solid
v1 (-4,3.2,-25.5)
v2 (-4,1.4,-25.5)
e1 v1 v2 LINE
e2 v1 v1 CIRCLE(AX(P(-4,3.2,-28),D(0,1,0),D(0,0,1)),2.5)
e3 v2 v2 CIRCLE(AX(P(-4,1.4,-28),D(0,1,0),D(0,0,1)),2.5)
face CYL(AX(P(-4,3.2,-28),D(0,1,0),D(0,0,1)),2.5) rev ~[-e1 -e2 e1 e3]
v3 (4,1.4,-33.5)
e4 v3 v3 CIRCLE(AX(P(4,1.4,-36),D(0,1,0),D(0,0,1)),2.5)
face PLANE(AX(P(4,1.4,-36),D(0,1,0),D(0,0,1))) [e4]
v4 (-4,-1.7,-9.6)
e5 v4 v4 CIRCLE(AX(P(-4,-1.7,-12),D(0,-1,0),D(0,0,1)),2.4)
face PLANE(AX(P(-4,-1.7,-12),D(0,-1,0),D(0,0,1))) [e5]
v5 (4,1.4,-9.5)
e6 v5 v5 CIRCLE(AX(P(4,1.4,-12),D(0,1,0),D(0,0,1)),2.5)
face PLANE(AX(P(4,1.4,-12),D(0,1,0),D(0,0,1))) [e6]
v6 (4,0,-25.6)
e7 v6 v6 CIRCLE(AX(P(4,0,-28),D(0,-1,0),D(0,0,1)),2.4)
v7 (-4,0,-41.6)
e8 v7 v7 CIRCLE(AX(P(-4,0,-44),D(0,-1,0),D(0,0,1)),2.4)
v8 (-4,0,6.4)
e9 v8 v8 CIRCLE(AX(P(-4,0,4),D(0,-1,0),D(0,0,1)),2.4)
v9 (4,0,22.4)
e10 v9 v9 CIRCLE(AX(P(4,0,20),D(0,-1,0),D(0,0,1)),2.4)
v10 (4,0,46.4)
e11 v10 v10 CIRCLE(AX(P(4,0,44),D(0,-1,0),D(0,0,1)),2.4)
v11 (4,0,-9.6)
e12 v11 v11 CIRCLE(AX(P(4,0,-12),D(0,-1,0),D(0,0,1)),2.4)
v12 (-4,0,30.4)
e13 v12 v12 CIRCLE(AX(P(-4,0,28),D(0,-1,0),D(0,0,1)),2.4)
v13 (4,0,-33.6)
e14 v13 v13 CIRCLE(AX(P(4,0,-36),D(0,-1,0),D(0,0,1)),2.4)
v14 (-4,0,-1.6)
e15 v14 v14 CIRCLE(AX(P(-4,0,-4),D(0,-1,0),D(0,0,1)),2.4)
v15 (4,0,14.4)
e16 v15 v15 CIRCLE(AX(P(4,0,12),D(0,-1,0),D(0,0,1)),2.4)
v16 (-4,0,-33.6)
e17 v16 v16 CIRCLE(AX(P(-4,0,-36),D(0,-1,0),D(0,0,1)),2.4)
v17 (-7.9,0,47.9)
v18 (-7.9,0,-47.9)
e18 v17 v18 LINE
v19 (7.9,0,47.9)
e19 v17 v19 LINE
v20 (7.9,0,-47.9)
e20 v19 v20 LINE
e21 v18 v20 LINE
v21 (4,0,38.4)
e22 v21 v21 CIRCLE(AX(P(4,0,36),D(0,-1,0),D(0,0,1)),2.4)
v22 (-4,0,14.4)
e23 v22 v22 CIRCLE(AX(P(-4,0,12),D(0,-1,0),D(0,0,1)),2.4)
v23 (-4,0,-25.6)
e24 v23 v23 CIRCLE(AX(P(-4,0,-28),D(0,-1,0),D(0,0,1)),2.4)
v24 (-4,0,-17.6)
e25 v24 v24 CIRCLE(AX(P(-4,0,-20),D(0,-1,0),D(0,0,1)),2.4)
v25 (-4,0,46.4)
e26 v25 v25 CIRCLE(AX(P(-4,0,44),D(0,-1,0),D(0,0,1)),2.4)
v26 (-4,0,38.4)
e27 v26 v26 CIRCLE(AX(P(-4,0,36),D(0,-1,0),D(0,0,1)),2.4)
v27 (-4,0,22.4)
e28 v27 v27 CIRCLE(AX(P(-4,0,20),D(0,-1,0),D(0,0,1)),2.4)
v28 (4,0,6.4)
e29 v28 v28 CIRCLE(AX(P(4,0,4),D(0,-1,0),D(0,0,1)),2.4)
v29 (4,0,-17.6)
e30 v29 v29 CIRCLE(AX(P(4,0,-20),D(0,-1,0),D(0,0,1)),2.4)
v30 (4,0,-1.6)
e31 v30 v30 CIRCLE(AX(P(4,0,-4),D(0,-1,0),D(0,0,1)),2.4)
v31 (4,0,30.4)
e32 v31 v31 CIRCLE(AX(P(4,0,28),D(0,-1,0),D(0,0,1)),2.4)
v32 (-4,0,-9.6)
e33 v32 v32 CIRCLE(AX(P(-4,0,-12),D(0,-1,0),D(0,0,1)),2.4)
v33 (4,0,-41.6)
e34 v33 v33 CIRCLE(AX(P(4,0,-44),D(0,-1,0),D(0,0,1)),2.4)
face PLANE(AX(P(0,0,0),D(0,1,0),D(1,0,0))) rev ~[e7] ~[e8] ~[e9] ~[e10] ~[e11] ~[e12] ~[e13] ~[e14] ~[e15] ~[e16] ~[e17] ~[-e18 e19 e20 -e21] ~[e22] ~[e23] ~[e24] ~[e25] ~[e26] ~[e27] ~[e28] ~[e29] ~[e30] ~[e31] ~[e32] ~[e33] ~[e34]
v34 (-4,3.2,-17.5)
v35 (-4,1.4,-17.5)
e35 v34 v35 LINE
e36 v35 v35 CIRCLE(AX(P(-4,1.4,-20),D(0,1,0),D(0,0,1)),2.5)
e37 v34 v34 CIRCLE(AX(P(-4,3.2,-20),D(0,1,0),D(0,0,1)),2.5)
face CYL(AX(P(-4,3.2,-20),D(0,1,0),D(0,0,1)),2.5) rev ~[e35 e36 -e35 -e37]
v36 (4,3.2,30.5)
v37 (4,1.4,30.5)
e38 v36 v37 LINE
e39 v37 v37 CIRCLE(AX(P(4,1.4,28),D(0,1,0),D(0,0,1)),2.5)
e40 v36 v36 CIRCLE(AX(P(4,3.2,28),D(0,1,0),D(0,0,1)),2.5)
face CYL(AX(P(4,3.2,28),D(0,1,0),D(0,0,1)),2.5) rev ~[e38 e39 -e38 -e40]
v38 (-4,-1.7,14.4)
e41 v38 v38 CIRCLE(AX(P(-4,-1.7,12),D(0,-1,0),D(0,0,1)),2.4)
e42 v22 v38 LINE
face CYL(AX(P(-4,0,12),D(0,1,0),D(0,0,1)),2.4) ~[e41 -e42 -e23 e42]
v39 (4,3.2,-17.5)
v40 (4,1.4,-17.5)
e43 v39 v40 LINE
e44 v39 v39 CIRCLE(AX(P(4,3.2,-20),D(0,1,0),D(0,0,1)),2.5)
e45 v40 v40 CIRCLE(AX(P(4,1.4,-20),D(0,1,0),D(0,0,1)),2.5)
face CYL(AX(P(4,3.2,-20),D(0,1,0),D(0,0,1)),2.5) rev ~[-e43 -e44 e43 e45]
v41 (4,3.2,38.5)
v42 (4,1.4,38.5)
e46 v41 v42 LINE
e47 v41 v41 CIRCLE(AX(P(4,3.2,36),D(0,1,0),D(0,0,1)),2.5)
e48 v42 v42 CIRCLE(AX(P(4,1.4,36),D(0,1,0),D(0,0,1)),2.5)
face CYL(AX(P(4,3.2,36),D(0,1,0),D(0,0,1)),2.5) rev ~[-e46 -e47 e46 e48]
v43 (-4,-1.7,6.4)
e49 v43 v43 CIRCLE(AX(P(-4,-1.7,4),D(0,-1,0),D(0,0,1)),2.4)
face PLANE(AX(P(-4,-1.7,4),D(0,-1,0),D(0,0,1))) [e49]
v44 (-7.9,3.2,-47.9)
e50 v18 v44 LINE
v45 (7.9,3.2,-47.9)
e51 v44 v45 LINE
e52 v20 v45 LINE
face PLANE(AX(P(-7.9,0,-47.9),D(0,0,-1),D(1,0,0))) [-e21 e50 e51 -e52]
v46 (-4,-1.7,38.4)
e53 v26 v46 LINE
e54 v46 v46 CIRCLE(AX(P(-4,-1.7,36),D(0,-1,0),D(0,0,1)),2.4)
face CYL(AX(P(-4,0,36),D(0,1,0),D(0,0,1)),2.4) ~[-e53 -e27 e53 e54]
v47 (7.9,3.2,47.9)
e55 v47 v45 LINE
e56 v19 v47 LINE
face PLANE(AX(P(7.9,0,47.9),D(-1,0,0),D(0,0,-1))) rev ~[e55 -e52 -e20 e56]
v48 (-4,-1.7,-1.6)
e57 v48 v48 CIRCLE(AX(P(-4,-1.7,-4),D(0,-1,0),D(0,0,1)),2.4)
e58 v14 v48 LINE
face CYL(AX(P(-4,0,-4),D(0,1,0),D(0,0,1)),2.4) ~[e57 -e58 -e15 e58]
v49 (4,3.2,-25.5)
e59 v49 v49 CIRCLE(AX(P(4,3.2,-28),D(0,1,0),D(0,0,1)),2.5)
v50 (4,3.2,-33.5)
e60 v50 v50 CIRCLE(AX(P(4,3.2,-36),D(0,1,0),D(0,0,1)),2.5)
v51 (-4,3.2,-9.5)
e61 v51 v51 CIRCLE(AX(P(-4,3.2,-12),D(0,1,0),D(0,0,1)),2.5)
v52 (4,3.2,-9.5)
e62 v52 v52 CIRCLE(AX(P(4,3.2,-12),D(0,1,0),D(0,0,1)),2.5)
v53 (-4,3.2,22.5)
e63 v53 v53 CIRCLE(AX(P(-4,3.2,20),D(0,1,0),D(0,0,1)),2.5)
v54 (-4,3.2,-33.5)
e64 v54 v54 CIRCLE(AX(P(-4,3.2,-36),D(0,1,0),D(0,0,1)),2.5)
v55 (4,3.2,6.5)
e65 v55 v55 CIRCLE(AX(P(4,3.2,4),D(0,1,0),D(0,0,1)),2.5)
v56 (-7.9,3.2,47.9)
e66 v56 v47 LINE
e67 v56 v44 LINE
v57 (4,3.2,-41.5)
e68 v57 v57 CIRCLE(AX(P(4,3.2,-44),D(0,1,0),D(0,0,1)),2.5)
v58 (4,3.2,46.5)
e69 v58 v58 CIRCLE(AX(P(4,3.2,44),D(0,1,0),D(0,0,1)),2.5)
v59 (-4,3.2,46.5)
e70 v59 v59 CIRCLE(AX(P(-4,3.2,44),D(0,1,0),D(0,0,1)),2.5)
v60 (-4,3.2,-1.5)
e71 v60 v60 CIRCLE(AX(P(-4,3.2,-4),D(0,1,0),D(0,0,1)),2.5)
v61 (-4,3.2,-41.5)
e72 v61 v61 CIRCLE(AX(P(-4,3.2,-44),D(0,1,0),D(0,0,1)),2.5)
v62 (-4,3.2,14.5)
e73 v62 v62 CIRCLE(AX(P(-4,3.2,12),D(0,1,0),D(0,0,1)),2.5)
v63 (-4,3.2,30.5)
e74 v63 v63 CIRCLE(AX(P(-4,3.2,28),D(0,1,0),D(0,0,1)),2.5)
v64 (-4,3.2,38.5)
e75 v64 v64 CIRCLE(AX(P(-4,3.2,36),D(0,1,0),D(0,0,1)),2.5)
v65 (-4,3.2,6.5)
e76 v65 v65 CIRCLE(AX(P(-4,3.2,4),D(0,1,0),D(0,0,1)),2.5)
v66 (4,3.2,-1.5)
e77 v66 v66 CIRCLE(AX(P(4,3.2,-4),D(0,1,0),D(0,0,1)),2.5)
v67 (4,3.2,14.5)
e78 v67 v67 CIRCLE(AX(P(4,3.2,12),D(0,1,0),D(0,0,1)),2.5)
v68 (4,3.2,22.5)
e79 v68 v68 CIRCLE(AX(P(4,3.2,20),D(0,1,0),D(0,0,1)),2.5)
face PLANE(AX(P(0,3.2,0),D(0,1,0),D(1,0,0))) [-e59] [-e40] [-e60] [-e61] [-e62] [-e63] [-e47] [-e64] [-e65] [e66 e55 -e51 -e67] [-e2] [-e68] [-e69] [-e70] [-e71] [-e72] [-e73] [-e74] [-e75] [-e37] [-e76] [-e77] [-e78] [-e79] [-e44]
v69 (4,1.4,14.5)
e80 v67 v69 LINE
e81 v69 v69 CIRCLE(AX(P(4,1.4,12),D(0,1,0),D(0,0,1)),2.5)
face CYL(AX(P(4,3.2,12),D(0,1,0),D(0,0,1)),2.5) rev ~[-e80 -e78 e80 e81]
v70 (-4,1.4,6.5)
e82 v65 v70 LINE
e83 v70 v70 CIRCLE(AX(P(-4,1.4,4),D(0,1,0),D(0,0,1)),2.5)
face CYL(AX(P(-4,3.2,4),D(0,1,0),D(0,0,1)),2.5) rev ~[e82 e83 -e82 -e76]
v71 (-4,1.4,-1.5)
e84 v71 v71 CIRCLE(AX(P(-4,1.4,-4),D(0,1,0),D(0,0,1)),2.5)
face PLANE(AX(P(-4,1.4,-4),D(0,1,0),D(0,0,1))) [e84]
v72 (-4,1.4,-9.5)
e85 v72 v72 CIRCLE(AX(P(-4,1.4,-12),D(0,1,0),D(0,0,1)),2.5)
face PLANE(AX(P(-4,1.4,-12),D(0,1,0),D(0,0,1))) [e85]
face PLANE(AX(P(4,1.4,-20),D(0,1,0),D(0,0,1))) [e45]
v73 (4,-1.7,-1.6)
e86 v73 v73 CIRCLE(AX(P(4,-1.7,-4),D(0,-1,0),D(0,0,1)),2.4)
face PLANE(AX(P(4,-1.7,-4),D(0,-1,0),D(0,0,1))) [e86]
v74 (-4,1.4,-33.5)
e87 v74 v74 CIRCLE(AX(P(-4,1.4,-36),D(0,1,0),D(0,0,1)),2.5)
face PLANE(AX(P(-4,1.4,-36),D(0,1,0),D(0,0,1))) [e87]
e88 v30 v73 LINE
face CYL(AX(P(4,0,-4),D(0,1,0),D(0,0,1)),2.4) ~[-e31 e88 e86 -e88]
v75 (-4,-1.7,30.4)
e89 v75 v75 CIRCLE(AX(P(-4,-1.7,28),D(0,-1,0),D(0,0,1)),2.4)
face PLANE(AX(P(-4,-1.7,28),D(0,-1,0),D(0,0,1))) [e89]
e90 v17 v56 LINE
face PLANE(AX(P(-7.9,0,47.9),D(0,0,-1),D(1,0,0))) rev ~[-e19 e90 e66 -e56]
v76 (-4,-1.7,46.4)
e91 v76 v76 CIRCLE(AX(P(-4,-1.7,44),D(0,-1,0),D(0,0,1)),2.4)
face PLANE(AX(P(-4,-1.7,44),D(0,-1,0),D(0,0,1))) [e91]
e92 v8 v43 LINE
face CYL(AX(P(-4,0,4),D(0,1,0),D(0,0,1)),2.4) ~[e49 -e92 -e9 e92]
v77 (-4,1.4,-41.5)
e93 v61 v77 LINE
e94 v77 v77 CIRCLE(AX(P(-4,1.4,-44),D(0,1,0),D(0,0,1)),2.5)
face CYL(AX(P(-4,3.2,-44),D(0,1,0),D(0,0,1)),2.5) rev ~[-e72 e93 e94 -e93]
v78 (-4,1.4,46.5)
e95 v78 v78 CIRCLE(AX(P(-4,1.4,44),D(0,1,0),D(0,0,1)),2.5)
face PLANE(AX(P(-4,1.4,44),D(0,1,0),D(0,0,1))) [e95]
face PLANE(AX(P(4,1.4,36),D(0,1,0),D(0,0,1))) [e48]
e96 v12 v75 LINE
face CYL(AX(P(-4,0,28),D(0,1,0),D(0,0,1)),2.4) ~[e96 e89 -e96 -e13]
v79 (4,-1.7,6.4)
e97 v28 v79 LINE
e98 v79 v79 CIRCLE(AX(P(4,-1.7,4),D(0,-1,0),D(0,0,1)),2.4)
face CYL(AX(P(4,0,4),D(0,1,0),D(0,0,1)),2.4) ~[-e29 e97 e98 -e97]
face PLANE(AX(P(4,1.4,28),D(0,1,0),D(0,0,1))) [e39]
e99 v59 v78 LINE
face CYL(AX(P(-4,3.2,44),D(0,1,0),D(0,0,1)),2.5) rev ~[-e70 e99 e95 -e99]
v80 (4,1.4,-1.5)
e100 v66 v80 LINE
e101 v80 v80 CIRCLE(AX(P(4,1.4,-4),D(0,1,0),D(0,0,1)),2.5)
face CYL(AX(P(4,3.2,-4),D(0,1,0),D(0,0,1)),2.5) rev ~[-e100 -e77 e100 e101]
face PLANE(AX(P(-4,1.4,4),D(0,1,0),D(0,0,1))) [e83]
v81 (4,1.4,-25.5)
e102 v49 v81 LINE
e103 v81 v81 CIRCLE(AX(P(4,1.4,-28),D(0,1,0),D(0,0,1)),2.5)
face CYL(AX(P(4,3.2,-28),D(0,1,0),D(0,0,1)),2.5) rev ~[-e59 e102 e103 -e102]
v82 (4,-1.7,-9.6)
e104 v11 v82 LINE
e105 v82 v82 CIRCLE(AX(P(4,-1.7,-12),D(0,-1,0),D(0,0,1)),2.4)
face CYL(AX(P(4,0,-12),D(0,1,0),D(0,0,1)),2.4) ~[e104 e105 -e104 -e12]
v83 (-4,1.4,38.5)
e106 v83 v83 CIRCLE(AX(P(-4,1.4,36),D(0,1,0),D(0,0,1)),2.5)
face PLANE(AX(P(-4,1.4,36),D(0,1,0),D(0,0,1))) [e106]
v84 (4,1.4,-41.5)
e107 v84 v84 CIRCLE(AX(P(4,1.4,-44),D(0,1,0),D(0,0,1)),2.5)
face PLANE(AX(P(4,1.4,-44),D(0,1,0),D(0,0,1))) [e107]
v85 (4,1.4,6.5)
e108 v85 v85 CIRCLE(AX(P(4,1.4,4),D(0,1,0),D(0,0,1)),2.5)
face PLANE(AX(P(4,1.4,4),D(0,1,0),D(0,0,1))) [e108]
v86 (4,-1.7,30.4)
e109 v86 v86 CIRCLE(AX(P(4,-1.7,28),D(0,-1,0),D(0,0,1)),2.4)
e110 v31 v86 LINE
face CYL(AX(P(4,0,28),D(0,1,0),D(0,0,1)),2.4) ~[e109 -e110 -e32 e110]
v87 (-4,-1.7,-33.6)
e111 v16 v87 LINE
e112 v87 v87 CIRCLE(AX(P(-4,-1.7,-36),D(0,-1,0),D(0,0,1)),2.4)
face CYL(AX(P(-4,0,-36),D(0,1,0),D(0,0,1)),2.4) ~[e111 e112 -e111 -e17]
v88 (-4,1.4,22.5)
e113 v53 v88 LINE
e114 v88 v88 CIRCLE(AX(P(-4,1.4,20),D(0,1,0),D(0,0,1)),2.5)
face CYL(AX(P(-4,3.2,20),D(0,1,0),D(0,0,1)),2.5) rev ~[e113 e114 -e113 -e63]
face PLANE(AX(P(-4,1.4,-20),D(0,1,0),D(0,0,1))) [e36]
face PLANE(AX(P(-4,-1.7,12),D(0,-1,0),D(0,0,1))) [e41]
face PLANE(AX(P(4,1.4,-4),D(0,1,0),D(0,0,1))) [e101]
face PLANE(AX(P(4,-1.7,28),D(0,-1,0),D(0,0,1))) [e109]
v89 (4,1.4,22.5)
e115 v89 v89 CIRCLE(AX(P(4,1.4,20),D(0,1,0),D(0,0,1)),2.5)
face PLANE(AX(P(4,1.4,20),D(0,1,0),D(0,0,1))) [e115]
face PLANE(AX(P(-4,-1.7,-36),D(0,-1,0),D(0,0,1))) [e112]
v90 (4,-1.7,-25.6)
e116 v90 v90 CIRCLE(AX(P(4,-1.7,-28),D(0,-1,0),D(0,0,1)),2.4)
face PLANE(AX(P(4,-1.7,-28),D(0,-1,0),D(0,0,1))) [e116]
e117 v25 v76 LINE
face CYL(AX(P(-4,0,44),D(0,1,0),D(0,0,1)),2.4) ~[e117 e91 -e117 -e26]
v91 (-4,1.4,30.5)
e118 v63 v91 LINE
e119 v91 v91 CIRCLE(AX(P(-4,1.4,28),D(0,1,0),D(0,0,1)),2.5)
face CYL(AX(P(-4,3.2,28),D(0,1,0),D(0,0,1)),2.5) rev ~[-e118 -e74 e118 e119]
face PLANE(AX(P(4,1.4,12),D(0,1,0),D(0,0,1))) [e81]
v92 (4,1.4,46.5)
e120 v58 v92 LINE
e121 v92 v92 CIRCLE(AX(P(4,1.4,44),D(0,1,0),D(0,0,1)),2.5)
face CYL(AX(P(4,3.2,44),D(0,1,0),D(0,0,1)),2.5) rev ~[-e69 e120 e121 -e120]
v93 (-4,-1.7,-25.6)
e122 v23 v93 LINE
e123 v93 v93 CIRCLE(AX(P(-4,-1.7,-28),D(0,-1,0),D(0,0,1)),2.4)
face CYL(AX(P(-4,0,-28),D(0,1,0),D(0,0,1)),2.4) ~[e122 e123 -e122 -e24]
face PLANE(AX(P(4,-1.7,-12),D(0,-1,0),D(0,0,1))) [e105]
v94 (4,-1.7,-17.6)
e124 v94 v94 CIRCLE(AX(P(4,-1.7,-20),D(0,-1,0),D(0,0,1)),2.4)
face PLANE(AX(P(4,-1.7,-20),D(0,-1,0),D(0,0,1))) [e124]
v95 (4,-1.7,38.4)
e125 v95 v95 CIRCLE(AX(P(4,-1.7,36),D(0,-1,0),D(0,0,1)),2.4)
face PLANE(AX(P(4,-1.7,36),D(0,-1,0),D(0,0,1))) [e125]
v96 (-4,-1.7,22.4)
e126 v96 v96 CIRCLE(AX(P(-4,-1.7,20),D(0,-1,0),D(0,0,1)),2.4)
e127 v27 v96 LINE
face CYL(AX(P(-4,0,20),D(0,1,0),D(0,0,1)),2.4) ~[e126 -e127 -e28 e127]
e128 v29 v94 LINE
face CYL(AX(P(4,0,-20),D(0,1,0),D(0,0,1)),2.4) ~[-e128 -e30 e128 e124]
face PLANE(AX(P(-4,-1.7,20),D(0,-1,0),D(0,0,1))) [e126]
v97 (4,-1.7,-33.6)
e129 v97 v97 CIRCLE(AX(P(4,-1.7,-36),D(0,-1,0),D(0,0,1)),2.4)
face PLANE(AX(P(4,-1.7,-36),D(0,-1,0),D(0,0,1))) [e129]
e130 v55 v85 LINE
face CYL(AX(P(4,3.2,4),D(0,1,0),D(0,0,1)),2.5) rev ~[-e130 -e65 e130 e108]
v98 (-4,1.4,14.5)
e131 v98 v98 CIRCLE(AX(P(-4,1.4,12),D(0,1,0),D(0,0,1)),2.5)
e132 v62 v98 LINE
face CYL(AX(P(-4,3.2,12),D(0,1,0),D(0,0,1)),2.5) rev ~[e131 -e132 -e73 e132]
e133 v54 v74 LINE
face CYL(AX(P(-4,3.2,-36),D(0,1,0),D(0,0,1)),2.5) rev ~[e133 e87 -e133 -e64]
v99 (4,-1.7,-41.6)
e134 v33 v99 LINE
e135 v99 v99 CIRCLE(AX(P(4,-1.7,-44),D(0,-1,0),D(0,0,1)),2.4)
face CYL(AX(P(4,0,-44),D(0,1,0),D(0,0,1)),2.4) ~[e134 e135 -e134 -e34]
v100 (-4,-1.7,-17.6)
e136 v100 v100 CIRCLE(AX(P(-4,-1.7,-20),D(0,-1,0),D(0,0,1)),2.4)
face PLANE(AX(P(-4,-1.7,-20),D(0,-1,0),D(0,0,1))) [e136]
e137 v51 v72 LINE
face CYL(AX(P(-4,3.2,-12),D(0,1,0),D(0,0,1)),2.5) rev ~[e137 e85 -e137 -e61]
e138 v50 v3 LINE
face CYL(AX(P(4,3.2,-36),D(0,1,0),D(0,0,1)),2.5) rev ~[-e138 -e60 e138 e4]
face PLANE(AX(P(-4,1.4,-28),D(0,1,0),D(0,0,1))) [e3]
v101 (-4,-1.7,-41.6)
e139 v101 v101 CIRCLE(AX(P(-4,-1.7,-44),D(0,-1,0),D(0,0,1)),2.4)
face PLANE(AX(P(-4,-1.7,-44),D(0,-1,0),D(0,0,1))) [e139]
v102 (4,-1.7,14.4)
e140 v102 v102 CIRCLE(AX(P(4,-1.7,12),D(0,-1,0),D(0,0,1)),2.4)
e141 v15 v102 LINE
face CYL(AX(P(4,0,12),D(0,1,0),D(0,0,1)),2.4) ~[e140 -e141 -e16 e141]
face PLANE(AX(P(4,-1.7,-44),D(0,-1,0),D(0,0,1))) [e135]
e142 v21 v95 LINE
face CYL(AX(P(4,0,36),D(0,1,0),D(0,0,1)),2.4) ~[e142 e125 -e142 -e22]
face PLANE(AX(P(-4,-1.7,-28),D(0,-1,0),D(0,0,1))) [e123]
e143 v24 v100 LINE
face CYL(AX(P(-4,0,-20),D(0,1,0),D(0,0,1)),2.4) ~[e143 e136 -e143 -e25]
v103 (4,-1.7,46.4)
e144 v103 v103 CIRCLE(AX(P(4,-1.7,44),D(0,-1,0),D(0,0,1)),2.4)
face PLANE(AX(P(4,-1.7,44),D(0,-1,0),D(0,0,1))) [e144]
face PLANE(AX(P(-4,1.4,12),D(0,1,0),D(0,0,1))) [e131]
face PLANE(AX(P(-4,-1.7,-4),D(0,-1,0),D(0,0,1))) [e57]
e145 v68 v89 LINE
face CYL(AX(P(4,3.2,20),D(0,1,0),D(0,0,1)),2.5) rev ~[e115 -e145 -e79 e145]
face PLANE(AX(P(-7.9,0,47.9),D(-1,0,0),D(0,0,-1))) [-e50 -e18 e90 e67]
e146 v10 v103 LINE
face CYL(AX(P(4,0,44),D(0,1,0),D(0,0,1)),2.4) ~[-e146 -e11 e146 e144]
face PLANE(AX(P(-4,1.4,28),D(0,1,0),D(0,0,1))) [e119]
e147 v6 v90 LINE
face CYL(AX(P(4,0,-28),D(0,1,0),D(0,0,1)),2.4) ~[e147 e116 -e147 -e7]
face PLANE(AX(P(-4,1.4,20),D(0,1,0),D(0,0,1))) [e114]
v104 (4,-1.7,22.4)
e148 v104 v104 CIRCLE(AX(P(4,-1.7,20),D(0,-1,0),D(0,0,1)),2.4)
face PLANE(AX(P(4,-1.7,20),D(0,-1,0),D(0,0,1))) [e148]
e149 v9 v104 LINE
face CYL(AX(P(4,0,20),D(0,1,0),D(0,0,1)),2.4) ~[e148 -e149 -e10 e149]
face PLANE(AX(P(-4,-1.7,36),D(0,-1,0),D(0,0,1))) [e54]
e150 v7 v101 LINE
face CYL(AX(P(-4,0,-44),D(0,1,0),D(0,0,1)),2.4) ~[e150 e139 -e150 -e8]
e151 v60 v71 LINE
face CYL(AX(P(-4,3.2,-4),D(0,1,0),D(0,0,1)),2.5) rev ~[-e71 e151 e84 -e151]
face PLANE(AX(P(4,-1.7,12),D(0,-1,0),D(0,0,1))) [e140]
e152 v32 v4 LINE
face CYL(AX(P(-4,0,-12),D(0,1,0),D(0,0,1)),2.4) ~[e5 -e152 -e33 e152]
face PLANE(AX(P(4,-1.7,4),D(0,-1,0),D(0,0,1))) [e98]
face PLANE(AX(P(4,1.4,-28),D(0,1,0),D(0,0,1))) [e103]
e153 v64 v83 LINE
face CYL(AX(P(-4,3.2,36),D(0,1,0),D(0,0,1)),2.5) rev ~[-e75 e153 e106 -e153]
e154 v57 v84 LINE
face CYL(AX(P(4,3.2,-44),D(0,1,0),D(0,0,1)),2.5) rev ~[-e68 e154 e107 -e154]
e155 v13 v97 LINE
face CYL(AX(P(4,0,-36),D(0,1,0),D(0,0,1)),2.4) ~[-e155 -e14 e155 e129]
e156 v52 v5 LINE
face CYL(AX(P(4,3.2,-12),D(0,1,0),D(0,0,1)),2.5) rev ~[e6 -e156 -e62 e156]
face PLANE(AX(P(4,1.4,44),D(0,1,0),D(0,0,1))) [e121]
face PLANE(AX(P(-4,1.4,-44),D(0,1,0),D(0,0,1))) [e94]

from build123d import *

# Parameters (mm, degrees)
SKETCH_1_W          = 15.8
SKETCH_1_H          = 95.8
EXTRUDE_1_DEPTH     = 3.2
SKETCH_2_R          = 2.4
EXTRUDE_3_DEPTH     = 1.7
SKETCH_3_R          = 2.5
CUT_EXTRUDE_1_DEPTH = 1.8


with BuildPart() as part:
    # Эскиз1 → Бобышка-Вытянуть1 (new body)
    with BuildSketch(Plane(origin=(0, 0, 0), x_dir=(1, 0, 0), z_dir=(0, 1, 0))):
        Rectangle(SKETCH_1_W, SKETCH_1_H)
    extrude(amount=EXTRUDE_1_DEPTH)

    # Эскиз2 → Бобышка-Вытянуть3 (add)
    with BuildSketch(Plane.XZ):
        with Locations(Location((-4, -44, 0), (0, 0, 90))):
            Circle(SKETCH_2_R)
        with Locations(Location((4, -44, 0), (0, 0, 90))):
            Circle(SKETCH_2_R)
        with Locations(Location((4, -36, 0), (0, 0, 90))):
            Circle(SKETCH_2_R)
        with Locations(Location((4, -28, 0), (0, 0, 90))):
            Circle(SKETCH_2_R)
        with Locations(Location((4, -20, 0), (0, 0, 90))):
            Circle(SKETCH_2_R)
        with Locations(Location((4, -12, 0), (0, 0, 90))):
            Circle(SKETCH_2_R)
        with Locations(Location((4, -4, 0), (0, 0, 90))):
            Circle(SKETCH_2_R)
        with Locations(Location((4, 4, 0), (0, 0, 90))):
            Circle(SKETCH_2_R)
        with Locations(Location((4, 12, 0), (0, 0, 90))):
            Circle(SKETCH_2_R)
        with Locations(Location((4, 20, 0), (0, 0, 90))):
            Circle(SKETCH_2_R)
        with Locations(Location((4, 28, 0), (0, 0, 90))):
            Circle(SKETCH_2_R)
        with Locations(Location((4, 36, 0), (0, 0, 90))):
            Circle(SKETCH_2_R)
        with Locations(Location((4, 44, 0), (0, 0, 90))):
            Circle(SKETCH_2_R)
        with Locations(Location((-4, -36, 0), (0, 0, 90))):
            Circle(SKETCH_2_R)
        with Locations(Location((-4, -28, 0), (0, 0, 90))):
            Circle(SKETCH_2_R)
        with Locations(Location((-4, -20, 0), (0, 0, 90))):
            Circle(SKETCH_2_R)
        with Locations(Location((-4, -12, 0), (0, 0, 90))):
            Circle(SKETCH_2_R)
        with Locations(Location((-4, -4, 0), (0, 0, 90))):
            Circle(SKETCH_2_R)
        with Locations(Location((-4, 4, 0), (0, 0, 90))):
            Circle(SKETCH_2_R)
        with Locations(Location((-4, 12, 0), (0, 0, 90))):
            Circle(SKETCH_2_R)
        with Locations(Location((-4, 20, 0), (0, 0, 90))):
            Circle(SKETCH_2_R)
        with Locations(Location((-4, 28, 0), (0, 0, 90))):
            Circle(SKETCH_2_R)
        with Locations(Location((-4, 36, 0), (0, 0, 90))):
            Circle(SKETCH_2_R)
        with Locations(Location((-4, 44, 0), (0, 0, 90))):
            Circle(SKETCH_2_R)
    extrude(amount=EXTRUDE_3_DEPTH)

    # Эскиз3 → Вырез-Вытянуть1 (cut)
    with BuildSketch(Plane(origin=(0, 3.2, 0), x_dir=(1, 0, 0), z_dir=(0, 1, 0))):
        with Locations(Location((-4, -44, 0), (0, 0, 270))):
            Circle(SKETCH_3_R)
        with Locations(Location((4, -44, 0), (0, 0, 270))):
            Circle(SKETCH_3_R)
        with Locations(Location((4, -36, 0), (0, 0, 270))):
            Circle(SKETCH_3_R)
        with Locations(Location((4, -28, 0), (0, 0, 270))):
            Circle(SKETCH_3_R)
        with Locations(Location((4, -20, 0), (0, 0, 270))):
            Circle(SKETCH_3_R)
        with Locations(Location((4, -12, 0), (0, 0, 270))):
            Circle(SKETCH_3_R)
        with Locations(Location((4, -4, 0), (0, 0, 270))):
            Circle(SKETCH_3_R)
        with Locations(Location((4, 4, 0), (0, 0, 270))):
            Circle(SKETCH_3_R)
        with Locations(Location((4, 12, 0), (0, 0, 270))):
            Circle(SKETCH_3_R)
        with Locations(Location((4, 20, 0), (0, 0, 270))):
            Circle(SKETCH_3_R)
        with Locations(Location((4, 28, 0), (0, 0, 270))):
            Circle(SKETCH_3_R)
        with Locations(Location((4, 36, 0), (0, 0, 270))):
            Circle(SKETCH_3_R)
        with Locations(Location((4, 44, 0), (0, 0, 270))):
            Circle(SKETCH_3_R)
        with Locations(Location((-4, -36, 0), (0, 0, 270))):
            Circle(SKETCH_3_R)
        with Locations(Location((-4, -28, 0), (0, 0, 270))):
            Circle(SKETCH_3_R)
        with Locations(Location((-4, -20, 0), (0, 0, 270))):
            Circle(SKETCH_3_R)
        with Locations(Location((-4, -12, 0), (0, 0, 270))):
            Circle(SKETCH_3_R)
        with Locations(Location((-4, -4, 0), (0, 0, 270))):
            Circle(SKETCH_3_R)
        with Locations(Location((-4, 4, 0), (0, 0, 270))):
            Circle(SKETCH_3_R)
        with Locations(Location((-4, 12, 0), (0, 0, 270))):
            Circle(SKETCH_3_R)
        with Locations(Location((-4, 20, 0), (0, 0, 270))):
            Circle(SKETCH_3_R)
        with Locations(Location((-4, 28, 0), (0, 0, 270))):
            Circle(SKETCH_3_R)
        with Locations(Location((-4, 36, 0), (0, 0, 270))):
            Circle(SKETCH_3_R)
        with Locations(Location((-4, 44, 0), (0, 0, 270))):
            Circle(SKETCH_3_R)
    extrude(amount=-CUT_EXTRUDE_1_DEPTH, mode=Mode.SUBTRACT)


solid = part.part
